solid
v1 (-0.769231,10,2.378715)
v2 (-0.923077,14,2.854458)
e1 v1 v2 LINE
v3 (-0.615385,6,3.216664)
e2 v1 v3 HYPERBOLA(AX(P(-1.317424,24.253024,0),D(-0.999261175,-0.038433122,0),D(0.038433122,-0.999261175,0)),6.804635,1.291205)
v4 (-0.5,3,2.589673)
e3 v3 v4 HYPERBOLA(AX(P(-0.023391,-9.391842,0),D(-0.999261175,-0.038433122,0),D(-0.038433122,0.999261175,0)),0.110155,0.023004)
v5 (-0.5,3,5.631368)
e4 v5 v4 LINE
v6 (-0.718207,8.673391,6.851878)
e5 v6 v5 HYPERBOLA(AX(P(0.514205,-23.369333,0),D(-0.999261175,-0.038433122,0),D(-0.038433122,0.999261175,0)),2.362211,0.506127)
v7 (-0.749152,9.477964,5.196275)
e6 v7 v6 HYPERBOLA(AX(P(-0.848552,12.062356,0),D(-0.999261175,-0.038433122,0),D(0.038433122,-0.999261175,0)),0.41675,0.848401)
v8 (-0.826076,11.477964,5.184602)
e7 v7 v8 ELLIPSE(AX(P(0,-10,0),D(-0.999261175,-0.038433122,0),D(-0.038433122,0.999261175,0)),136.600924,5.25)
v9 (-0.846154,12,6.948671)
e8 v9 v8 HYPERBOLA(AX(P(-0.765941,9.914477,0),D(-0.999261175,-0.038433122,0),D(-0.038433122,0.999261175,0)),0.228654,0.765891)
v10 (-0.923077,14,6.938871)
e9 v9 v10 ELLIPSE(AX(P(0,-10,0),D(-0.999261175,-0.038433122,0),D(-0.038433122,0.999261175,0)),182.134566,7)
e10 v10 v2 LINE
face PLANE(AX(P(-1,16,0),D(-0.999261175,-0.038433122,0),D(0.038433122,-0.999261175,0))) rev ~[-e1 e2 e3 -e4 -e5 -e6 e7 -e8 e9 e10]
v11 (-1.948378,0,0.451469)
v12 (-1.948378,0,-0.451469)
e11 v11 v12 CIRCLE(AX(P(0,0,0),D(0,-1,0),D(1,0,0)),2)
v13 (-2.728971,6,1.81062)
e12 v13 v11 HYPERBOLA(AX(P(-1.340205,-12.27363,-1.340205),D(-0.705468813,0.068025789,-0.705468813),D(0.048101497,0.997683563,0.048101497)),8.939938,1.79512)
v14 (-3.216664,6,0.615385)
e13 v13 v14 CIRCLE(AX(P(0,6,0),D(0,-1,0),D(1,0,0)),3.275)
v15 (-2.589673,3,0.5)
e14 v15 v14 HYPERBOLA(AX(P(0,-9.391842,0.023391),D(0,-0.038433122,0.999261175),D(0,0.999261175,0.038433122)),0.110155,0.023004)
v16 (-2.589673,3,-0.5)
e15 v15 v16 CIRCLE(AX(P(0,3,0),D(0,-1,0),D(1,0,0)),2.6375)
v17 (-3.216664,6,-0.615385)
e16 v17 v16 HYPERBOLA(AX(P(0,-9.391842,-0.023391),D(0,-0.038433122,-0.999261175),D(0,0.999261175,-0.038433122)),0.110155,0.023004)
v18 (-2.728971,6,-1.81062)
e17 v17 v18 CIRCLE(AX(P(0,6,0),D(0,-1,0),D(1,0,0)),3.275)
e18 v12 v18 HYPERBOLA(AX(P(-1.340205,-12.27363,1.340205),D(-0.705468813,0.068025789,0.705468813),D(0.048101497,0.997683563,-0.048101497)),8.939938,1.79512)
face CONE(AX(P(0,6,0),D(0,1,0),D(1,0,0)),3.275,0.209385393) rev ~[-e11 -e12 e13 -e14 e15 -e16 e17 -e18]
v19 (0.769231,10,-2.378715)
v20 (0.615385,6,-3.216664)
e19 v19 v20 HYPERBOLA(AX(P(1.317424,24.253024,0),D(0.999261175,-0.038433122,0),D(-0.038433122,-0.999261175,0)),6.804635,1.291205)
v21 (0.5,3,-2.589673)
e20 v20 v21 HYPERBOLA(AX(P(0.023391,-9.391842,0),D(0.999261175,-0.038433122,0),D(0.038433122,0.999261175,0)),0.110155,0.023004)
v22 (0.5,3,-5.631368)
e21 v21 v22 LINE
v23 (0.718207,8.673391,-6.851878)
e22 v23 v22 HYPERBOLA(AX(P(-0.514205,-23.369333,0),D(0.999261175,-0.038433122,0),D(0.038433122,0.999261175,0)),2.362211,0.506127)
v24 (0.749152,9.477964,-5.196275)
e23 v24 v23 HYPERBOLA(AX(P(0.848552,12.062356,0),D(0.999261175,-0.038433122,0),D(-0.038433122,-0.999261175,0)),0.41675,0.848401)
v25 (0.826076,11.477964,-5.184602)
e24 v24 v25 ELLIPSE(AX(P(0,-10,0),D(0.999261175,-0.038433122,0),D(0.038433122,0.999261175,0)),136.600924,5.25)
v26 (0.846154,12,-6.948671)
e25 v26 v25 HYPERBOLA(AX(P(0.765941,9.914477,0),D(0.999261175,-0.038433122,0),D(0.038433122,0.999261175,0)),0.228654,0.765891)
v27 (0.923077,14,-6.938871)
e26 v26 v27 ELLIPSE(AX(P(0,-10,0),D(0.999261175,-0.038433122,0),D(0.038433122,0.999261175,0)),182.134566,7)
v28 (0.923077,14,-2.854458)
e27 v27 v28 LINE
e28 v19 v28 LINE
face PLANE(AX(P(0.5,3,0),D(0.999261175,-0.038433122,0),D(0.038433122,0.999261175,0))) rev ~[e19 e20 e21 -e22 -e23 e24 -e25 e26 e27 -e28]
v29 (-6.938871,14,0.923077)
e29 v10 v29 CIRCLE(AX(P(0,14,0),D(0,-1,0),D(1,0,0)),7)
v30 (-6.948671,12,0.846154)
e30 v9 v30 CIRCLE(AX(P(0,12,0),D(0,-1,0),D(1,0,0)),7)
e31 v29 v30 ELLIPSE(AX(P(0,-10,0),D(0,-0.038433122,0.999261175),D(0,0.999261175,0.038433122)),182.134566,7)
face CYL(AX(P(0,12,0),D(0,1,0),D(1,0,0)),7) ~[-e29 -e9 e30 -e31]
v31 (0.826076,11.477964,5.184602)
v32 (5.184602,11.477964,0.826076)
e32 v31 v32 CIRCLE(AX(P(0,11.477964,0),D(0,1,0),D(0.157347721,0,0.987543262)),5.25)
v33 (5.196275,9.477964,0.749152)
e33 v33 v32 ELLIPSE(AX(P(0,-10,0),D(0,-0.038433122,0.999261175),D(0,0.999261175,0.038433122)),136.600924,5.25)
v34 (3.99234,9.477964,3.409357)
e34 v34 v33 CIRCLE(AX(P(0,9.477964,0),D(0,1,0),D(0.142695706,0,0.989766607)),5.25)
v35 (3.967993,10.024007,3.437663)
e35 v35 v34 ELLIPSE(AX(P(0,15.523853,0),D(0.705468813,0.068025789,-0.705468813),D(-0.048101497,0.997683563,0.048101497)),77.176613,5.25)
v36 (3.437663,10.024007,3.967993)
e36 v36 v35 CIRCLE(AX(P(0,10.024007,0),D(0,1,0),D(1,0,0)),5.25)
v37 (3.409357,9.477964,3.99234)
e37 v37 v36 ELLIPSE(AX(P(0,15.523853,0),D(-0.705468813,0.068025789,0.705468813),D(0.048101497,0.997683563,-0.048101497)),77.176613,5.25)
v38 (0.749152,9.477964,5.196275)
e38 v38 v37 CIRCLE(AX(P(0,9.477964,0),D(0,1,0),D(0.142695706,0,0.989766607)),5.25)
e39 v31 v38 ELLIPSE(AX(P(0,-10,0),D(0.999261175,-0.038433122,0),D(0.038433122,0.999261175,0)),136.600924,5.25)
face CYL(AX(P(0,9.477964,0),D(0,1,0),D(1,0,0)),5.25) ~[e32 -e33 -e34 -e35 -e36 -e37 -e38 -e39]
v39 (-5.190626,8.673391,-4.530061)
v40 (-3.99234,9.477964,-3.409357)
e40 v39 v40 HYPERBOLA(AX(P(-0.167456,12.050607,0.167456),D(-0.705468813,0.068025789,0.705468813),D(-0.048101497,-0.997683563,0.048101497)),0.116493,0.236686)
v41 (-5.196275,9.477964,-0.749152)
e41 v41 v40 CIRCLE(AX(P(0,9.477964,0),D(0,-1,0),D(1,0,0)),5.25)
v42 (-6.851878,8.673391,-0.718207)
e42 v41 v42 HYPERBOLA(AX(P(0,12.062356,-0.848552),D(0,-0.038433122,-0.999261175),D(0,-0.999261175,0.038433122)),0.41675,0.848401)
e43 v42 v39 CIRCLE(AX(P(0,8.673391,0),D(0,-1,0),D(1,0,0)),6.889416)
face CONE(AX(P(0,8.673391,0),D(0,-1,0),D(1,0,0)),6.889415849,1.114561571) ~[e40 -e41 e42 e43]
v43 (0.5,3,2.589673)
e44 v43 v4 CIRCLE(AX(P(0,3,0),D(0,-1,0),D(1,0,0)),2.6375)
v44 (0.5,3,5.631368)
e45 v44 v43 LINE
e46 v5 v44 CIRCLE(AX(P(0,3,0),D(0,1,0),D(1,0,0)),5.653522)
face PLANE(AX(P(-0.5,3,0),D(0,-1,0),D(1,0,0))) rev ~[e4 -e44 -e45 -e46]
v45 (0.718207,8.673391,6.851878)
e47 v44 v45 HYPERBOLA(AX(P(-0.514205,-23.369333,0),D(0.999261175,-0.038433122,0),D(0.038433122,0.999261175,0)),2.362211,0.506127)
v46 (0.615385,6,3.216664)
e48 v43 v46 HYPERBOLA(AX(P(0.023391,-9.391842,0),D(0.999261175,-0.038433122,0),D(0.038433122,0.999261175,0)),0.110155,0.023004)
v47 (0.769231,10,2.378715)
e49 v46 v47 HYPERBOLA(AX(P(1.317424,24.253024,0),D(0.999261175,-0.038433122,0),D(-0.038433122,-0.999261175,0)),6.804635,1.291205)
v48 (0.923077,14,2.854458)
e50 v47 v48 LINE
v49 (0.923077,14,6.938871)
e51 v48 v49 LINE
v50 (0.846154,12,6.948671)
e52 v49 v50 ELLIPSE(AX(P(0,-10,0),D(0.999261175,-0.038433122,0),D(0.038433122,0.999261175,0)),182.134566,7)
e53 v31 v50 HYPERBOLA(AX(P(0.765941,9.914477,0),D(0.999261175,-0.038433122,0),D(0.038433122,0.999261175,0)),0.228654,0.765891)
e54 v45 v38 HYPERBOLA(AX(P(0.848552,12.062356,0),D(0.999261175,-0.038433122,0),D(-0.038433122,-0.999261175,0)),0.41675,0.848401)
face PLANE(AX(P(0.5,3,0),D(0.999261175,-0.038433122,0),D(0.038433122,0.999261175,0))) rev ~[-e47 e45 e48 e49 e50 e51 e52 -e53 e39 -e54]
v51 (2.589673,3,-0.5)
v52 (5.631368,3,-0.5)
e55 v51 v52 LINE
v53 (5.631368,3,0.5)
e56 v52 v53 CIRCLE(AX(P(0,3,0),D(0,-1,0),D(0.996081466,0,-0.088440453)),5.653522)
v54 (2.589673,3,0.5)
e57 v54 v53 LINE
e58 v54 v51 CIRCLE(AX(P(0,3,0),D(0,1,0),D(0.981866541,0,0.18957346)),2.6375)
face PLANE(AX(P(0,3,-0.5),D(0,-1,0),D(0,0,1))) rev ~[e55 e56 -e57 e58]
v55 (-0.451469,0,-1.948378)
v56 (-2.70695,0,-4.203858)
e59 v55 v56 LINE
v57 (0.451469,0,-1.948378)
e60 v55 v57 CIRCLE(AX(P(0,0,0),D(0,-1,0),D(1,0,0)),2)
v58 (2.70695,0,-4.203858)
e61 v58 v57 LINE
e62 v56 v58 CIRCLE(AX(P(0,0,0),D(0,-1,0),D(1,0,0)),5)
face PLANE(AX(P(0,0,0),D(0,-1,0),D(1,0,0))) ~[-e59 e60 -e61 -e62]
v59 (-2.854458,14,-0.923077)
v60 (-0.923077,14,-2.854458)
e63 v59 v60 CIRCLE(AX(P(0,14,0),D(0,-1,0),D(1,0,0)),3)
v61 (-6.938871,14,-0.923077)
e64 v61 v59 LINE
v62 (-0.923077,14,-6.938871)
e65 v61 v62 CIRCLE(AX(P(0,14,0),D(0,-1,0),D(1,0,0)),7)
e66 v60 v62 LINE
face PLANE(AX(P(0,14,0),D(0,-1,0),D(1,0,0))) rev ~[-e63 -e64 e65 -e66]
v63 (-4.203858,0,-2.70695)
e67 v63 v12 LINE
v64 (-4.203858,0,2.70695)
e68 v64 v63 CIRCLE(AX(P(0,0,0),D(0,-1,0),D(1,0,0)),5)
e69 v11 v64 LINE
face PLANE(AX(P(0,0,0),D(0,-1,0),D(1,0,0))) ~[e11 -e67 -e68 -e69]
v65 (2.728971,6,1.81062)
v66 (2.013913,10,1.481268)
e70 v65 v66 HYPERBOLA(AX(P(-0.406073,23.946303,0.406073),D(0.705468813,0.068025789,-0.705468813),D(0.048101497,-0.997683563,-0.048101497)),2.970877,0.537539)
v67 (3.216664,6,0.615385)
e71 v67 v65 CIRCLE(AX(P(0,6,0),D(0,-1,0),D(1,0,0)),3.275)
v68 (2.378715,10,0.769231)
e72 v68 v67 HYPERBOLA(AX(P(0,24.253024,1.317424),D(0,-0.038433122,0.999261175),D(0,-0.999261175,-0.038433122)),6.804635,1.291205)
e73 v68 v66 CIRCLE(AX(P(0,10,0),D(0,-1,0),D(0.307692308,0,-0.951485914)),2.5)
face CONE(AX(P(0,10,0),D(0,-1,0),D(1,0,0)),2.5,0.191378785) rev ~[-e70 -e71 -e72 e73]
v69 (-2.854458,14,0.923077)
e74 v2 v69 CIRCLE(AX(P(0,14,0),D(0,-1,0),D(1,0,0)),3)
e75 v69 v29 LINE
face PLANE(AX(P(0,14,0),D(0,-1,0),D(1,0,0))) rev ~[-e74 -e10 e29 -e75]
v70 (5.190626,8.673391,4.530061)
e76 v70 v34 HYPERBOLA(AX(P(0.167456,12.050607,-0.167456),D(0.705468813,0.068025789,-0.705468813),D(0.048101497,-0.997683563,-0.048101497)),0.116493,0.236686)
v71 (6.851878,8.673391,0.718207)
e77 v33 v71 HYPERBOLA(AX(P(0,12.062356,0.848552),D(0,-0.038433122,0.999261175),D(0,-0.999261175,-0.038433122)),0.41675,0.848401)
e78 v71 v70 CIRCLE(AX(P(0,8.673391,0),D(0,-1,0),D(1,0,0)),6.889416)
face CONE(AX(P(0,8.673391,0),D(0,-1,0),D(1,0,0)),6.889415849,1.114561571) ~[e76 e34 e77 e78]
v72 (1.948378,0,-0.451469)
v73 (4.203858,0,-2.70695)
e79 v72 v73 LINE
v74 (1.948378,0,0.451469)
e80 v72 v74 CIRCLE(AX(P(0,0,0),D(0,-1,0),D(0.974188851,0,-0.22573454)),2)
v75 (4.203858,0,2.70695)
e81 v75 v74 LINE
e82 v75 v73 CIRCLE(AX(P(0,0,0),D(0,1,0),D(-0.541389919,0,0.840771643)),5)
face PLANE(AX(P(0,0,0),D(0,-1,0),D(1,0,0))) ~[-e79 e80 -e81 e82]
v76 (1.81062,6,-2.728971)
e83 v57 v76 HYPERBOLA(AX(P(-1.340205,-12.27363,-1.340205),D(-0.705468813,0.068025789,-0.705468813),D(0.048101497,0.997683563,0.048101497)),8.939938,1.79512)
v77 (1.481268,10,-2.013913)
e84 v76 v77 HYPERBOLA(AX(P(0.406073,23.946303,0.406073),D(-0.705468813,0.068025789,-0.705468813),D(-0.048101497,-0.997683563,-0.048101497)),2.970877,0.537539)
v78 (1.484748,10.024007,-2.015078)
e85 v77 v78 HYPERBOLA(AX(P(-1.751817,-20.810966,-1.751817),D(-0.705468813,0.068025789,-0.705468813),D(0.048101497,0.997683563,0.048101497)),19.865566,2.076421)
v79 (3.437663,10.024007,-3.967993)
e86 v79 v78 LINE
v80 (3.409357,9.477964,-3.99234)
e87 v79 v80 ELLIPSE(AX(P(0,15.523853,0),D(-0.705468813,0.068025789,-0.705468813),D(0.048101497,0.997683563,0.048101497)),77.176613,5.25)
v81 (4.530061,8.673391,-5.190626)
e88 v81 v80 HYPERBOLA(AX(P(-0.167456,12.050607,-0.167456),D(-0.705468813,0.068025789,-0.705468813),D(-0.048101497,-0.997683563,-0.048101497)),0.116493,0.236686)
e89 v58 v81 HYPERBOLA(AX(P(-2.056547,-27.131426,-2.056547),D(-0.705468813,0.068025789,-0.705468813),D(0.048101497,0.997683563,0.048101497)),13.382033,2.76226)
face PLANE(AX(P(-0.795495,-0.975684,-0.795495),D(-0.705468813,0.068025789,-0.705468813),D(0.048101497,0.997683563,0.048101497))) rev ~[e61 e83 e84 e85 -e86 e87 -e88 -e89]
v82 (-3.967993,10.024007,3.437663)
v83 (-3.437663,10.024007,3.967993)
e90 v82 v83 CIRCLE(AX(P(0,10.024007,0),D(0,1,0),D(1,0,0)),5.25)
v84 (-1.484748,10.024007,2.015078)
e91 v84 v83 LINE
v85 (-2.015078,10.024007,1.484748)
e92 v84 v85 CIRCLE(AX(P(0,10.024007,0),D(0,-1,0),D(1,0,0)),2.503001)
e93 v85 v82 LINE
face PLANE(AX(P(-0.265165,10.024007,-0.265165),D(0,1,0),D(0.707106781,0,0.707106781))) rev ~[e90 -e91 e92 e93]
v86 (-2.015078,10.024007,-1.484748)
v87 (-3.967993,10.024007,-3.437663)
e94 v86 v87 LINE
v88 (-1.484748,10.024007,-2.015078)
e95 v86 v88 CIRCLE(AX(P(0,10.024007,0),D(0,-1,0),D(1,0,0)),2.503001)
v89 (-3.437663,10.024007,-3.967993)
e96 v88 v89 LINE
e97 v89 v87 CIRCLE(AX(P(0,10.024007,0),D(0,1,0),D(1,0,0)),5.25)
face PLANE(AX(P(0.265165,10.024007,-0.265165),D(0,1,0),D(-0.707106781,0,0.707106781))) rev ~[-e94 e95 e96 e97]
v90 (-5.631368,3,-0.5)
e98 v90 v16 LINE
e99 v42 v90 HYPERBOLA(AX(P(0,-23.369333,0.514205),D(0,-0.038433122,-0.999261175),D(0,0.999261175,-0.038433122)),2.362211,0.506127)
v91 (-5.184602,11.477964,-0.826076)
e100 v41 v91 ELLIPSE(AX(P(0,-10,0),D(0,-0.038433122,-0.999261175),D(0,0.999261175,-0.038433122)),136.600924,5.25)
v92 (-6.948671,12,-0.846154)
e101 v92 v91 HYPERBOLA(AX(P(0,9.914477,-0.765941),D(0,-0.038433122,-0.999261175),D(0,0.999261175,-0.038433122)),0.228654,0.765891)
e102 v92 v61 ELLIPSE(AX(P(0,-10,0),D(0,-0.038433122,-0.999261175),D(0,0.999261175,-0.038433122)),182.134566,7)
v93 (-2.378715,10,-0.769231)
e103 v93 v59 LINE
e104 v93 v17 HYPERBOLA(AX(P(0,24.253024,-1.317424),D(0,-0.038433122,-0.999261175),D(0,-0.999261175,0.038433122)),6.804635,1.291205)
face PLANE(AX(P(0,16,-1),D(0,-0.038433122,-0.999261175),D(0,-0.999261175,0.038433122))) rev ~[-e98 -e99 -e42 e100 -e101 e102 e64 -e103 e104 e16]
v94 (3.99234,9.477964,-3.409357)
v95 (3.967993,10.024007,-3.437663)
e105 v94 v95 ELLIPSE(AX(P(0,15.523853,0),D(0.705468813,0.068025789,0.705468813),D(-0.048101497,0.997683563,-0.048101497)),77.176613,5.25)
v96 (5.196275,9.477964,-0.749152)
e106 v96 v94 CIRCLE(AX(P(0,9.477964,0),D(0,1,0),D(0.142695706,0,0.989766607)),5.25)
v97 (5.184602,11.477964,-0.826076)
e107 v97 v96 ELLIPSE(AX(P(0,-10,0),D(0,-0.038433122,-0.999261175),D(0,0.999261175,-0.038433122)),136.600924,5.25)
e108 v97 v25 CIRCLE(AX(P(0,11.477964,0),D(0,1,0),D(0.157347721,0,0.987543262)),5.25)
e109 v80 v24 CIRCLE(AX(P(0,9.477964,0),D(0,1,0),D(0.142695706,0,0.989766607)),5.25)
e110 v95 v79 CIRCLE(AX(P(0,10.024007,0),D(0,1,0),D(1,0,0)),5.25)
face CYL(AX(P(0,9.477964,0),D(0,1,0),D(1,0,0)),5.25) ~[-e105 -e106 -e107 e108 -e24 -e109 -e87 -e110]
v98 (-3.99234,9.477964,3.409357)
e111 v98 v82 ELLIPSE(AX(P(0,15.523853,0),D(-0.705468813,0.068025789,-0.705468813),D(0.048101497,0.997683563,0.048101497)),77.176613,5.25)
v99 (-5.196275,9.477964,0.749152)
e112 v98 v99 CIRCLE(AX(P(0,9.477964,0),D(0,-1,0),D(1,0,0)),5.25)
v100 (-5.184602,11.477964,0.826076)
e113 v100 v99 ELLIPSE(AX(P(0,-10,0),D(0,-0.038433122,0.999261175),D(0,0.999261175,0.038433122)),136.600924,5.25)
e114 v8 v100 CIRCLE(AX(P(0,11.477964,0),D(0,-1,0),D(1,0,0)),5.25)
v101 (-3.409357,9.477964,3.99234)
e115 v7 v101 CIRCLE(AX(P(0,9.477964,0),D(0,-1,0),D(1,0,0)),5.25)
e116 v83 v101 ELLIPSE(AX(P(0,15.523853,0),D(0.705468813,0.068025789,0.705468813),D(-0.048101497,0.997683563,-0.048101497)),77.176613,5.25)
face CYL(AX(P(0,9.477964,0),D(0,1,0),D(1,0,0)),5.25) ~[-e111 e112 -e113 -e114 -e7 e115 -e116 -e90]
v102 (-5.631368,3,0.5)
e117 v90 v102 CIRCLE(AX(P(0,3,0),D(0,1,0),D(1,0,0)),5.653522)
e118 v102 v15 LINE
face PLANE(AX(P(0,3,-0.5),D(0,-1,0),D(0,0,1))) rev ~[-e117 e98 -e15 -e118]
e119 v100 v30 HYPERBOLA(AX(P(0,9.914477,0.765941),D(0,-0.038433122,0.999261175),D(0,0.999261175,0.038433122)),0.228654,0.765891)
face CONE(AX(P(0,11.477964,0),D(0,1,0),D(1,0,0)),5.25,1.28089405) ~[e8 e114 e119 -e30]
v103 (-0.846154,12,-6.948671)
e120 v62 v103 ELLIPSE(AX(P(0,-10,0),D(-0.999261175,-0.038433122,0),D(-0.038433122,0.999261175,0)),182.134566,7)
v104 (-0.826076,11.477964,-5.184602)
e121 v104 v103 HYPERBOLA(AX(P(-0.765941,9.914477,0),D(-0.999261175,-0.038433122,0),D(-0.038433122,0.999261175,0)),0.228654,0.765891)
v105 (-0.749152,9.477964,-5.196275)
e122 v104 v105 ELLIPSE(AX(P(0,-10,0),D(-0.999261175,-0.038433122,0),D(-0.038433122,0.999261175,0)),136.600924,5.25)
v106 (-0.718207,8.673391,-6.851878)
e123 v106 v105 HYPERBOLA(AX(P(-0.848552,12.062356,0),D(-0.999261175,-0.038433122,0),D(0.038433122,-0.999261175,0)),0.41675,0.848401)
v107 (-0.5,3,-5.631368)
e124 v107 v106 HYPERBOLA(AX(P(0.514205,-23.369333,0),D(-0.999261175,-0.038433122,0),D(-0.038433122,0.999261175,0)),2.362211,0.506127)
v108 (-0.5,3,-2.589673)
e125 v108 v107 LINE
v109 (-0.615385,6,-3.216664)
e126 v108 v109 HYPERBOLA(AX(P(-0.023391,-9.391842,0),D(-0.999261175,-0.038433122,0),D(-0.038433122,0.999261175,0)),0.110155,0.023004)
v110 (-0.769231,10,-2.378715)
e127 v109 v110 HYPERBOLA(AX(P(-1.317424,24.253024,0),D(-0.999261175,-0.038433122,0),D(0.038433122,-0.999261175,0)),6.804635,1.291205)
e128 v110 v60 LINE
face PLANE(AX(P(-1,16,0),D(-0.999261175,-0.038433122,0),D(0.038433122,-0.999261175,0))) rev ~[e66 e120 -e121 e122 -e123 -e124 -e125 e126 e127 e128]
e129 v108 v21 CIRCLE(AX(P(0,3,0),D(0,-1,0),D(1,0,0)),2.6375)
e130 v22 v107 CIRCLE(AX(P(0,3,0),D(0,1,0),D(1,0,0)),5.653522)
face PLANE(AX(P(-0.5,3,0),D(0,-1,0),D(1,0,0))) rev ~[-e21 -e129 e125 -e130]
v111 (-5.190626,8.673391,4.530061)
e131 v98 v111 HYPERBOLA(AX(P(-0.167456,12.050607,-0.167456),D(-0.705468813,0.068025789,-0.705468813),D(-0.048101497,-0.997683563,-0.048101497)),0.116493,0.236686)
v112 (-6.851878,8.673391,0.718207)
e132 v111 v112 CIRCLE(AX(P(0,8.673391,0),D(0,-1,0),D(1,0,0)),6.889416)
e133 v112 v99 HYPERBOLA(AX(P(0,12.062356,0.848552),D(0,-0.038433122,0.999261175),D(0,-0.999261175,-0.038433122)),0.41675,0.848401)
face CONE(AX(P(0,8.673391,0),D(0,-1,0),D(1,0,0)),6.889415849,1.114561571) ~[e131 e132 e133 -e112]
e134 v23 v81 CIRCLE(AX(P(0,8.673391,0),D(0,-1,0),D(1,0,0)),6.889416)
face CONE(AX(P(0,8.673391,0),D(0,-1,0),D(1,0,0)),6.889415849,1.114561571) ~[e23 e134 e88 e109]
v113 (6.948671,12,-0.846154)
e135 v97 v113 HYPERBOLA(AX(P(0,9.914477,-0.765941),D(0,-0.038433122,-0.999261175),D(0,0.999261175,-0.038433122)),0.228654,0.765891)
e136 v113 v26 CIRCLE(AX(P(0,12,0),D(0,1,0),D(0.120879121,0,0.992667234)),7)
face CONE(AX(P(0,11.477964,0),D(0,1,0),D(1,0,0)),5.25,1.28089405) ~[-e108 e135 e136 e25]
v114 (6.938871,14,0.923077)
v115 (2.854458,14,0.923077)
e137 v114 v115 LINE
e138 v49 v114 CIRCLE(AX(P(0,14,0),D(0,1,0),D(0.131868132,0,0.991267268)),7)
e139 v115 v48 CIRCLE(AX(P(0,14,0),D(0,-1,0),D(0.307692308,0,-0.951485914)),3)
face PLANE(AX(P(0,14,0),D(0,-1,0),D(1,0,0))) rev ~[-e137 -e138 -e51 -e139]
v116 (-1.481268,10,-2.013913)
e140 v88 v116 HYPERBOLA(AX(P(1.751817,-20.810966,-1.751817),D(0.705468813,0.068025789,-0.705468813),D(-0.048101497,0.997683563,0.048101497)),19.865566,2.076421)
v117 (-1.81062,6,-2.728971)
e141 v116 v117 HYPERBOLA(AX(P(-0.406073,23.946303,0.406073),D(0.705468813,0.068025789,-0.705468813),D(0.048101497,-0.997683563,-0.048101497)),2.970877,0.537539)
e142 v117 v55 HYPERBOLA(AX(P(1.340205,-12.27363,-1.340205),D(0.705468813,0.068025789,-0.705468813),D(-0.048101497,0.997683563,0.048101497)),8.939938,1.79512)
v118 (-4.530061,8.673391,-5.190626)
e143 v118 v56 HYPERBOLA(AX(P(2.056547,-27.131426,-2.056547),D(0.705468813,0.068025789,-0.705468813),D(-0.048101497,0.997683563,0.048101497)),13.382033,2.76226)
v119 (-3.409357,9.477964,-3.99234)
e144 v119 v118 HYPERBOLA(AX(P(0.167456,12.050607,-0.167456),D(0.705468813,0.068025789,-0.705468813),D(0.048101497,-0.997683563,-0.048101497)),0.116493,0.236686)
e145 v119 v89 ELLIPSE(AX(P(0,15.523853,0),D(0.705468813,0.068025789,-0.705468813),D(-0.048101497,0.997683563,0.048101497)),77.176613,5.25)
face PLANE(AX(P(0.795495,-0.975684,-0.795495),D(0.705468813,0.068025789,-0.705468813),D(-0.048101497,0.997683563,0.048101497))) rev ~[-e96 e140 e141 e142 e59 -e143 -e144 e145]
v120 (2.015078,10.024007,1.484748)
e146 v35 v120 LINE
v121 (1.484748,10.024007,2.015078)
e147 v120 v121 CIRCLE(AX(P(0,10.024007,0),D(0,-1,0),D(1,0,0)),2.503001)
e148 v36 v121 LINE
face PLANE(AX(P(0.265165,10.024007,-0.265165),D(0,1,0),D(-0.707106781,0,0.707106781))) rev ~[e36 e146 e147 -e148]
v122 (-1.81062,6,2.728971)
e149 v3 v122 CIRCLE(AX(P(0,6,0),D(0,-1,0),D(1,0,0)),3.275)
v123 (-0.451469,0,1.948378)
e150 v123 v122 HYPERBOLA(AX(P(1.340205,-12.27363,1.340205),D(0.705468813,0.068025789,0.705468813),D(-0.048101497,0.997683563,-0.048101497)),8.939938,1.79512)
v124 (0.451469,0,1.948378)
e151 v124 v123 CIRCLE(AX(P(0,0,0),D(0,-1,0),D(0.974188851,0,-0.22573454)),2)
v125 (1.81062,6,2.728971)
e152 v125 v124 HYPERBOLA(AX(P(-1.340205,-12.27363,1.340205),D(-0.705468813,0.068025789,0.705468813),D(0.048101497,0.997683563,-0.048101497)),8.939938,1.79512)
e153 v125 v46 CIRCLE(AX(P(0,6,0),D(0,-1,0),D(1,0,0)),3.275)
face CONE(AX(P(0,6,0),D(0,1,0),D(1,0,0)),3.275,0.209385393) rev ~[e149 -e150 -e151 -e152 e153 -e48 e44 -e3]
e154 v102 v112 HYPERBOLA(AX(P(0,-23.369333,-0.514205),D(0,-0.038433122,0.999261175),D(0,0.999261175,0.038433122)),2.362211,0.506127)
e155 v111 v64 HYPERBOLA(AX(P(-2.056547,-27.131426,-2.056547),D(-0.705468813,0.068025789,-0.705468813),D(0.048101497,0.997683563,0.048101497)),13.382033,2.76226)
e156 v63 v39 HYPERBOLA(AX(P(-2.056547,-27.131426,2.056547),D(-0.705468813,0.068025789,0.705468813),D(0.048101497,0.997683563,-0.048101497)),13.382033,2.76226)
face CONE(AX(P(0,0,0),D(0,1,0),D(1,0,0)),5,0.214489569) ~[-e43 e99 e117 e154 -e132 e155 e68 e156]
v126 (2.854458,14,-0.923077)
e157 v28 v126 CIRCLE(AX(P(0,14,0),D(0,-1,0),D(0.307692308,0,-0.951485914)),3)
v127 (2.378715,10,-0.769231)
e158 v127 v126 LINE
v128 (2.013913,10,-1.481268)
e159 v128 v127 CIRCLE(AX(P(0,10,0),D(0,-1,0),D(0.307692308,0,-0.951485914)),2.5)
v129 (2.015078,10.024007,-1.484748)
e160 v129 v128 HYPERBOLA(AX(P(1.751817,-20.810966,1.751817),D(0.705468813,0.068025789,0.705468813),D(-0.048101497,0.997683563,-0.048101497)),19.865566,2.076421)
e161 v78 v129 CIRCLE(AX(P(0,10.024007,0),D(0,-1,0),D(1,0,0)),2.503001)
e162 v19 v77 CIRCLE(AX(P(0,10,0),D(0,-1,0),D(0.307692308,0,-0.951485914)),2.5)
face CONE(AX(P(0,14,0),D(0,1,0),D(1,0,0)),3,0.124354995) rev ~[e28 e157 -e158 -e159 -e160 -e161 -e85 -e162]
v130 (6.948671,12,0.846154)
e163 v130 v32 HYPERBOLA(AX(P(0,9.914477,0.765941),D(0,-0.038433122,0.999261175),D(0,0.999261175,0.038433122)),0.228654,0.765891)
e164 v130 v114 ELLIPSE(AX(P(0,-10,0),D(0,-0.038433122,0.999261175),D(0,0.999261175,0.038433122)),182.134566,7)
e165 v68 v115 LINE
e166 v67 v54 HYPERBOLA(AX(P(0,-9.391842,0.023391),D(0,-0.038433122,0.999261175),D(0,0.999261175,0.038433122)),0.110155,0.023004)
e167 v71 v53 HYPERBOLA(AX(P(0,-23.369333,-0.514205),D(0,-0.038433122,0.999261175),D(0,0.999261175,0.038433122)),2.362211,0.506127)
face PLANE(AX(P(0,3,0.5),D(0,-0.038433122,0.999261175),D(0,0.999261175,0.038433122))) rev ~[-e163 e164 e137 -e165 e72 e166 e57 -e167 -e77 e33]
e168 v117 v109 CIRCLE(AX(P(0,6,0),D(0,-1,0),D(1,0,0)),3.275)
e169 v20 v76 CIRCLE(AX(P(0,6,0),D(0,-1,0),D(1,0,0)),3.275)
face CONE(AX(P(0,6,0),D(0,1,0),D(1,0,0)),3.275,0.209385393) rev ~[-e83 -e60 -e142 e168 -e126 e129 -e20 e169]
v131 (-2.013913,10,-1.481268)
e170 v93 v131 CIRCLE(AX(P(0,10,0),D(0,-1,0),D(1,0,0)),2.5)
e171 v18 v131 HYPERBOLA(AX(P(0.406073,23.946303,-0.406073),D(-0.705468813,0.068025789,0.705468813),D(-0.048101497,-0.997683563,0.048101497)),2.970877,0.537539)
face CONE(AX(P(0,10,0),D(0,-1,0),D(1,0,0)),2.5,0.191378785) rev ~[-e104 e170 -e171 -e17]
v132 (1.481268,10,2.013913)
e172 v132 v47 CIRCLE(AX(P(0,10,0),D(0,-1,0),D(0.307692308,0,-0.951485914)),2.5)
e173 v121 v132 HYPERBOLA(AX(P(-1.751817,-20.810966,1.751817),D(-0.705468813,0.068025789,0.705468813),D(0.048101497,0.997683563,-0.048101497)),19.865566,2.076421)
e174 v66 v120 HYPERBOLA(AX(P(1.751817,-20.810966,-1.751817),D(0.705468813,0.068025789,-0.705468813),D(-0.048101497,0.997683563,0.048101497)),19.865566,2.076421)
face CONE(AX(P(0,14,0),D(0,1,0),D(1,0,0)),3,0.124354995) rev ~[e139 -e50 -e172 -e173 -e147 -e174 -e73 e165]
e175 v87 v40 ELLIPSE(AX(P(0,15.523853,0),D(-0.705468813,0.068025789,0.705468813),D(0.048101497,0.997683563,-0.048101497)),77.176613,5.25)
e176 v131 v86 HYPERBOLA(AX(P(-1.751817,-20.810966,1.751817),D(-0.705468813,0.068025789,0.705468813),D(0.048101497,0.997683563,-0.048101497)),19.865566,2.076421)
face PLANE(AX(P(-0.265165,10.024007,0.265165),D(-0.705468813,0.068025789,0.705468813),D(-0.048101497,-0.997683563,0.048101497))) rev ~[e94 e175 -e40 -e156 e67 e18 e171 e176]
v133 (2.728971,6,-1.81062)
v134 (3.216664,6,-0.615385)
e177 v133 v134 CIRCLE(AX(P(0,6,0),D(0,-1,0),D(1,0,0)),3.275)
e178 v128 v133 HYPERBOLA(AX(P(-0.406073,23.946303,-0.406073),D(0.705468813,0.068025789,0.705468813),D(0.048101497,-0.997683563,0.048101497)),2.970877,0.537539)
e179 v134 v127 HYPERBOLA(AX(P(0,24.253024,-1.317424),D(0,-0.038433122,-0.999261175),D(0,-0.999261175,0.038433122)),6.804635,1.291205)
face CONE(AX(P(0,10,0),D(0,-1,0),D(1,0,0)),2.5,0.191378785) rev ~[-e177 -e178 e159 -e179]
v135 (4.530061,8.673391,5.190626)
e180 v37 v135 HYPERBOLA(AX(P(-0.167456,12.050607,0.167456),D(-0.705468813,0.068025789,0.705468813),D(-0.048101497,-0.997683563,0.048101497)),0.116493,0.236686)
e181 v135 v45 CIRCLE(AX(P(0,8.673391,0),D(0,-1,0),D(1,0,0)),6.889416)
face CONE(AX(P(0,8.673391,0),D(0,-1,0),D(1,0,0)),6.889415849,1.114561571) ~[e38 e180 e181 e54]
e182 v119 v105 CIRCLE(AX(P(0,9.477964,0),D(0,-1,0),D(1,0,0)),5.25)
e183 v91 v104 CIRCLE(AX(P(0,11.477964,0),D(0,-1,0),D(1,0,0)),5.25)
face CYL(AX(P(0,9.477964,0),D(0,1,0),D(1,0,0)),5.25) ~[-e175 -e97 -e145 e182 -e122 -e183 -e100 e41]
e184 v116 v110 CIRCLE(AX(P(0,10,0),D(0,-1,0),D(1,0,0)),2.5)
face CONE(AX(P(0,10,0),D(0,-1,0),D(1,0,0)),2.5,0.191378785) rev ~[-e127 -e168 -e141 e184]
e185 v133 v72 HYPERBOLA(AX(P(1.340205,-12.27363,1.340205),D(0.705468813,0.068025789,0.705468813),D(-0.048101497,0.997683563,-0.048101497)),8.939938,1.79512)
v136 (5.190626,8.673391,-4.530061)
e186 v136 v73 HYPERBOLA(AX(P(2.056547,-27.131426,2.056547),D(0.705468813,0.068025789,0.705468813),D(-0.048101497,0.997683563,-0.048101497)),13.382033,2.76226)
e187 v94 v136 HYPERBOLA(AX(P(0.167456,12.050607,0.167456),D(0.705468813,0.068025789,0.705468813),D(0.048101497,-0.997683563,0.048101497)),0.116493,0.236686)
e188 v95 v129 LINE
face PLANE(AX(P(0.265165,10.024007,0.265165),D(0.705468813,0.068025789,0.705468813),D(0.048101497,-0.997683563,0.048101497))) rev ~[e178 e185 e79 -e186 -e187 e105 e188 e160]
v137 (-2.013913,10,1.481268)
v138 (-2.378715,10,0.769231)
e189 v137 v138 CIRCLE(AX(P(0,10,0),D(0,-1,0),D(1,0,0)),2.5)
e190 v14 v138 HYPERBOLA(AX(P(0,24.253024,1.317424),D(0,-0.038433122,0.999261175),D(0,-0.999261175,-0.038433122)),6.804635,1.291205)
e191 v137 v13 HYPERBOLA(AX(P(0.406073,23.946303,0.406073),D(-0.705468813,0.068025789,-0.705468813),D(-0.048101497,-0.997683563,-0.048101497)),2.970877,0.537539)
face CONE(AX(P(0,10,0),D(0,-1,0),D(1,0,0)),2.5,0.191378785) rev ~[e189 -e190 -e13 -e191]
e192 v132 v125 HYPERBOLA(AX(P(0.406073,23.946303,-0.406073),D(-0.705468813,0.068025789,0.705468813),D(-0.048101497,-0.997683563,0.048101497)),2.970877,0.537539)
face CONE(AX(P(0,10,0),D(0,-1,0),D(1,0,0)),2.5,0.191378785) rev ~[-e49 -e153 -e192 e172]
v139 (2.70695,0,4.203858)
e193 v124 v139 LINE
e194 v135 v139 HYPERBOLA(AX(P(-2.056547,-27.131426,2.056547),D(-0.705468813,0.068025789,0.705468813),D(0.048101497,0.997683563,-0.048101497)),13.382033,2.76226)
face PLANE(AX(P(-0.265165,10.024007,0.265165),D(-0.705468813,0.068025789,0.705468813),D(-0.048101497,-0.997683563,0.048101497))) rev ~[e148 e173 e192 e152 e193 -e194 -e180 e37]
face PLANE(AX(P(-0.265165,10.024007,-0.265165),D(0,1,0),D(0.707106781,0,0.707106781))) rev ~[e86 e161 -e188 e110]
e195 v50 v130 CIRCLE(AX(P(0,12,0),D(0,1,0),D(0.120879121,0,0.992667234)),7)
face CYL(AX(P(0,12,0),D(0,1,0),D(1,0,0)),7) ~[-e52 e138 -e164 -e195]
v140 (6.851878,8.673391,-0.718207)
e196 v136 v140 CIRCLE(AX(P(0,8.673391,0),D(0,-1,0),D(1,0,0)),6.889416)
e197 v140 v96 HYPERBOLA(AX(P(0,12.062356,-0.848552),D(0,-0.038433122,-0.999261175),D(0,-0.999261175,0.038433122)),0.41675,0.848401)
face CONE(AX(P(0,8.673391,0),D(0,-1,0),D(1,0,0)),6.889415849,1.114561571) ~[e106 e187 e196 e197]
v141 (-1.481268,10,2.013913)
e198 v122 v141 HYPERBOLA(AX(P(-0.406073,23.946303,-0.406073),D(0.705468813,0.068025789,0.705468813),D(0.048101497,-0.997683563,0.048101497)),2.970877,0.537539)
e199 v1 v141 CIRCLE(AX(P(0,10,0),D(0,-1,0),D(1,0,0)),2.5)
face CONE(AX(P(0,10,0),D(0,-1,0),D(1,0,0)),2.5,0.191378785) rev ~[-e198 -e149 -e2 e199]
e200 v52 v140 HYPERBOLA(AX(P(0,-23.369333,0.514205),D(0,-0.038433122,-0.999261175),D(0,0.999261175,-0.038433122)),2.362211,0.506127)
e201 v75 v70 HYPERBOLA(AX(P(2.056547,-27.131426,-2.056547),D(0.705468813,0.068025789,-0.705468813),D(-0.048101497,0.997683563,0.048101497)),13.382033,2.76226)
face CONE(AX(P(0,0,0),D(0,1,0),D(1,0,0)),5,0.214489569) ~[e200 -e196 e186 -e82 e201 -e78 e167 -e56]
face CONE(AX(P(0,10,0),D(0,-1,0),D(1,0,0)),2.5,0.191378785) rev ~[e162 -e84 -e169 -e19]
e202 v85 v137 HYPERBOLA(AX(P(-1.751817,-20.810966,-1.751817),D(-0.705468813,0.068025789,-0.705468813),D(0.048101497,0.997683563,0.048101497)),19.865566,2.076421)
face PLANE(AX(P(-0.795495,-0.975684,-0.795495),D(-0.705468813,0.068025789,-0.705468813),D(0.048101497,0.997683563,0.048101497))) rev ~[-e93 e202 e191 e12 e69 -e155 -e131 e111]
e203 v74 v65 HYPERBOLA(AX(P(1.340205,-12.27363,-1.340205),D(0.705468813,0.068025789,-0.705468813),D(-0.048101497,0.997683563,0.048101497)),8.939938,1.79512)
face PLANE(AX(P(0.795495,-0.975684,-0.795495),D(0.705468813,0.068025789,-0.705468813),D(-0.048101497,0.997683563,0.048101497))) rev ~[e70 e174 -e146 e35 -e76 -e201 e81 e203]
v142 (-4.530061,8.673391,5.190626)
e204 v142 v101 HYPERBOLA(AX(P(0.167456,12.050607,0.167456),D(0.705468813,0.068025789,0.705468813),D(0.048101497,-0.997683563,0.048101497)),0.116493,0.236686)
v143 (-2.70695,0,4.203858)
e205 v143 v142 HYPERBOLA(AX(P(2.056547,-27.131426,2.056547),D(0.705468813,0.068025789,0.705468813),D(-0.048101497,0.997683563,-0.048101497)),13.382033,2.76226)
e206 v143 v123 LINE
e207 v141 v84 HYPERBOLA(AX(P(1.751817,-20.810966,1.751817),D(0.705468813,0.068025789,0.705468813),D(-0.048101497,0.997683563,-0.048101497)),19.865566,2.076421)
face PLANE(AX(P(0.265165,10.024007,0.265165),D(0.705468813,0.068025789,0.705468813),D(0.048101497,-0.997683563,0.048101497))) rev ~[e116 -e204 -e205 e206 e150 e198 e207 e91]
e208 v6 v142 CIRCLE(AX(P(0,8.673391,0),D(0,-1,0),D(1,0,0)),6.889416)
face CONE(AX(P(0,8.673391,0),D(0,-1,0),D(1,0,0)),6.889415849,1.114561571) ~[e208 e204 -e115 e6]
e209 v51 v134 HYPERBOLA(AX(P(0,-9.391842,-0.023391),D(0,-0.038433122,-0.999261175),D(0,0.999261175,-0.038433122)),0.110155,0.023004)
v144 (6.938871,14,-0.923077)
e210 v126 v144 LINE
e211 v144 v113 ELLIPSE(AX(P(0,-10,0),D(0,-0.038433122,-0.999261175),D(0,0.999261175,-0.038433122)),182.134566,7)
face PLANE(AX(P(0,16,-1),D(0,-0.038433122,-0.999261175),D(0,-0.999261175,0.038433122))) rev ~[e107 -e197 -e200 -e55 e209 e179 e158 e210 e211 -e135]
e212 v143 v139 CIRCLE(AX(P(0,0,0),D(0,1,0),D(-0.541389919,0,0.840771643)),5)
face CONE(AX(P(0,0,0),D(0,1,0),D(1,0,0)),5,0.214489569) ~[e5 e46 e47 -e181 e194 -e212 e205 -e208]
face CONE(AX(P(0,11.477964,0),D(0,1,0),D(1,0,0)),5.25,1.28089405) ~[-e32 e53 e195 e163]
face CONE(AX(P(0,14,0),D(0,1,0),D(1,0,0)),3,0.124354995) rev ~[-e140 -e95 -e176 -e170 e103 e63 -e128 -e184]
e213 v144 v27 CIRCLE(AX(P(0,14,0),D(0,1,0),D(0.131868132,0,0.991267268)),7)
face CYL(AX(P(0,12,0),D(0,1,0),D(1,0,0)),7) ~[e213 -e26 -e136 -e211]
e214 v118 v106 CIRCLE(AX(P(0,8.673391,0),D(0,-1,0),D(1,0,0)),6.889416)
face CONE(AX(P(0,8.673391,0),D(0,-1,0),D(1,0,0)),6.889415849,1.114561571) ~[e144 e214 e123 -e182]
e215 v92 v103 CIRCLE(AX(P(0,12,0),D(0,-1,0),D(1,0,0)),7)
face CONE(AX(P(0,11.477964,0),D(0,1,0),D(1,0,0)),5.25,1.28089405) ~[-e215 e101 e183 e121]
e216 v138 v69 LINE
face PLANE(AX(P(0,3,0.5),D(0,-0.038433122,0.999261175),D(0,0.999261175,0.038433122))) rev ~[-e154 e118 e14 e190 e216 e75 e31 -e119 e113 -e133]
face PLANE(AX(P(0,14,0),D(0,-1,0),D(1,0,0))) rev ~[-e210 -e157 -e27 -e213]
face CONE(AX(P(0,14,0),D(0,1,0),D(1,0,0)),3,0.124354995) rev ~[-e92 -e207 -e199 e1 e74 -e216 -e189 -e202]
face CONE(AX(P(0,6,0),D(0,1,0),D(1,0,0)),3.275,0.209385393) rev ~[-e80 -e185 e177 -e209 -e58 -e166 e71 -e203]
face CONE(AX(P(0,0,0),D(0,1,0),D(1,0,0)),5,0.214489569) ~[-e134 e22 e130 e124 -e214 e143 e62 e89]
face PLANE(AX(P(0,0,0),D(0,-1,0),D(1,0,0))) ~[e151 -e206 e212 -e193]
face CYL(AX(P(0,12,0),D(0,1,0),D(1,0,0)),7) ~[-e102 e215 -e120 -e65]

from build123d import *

# Parameters (mm, degrees)
F3_DEPTH = 12.7
F4_COUNT = 2
F4_ANGLE = 90
F8_DEPTH = 12.7
F9_COUNT = 2
F9_ANGLE = 90


with BuildPart() as f1:
    # F0 (on Top) → F1 (revolve)
    with BuildSketch(Plane.XY):
        Polygon((7, 14), (3, 14), (2.5, 10), (3.275, 6), (2, 0), (5, 0), (6.889415849, 8.6733910541), (5.25, 9.4779638621), (5.25, 11.4779638621), (7, 12), align=None)
    revolve(axis=Axis((0, 3.7037534639, 0), (0, -1, 0)))


with BuildPart() as f3:
    # F2 (on Top) → F3 (new body, symmetric)
    with BuildSketch(Plane.XY):
        Polygon((0, 3), (0.5, 3), (1, 16), (0, 16), (-1, 16), (-0.5, 3), align=None)
    extrude(amount=F3_DEPTH, both=True)


with BuildPart() as f4_1:
    # F4: instance of F3
    add(f3.part.rotate(Axis((0, 3.7037534639, 0), (0, -1, 0)), 1 * F4_ANGLE / (F4_COUNT - 1)))


with BuildPart() as f1_1:
    add(f1.part)

    # F5: cut F3, F4_1
    add(f3.part, mode=Mode.SUBTRACT)
    add(f4_1.part, mode=Mode.SUBTRACT)


with BuildPart() as f8:
    # F7 (on line) → F8 (new body, symmetric)
    with BuildSketch(Plane(origin=(0, 0, 0), x_dir=(0.7071067812, 0, 0.7071067812), z_dir=(0.7071067812, 0, -0.7071067812))):
        Polygon((0.375, -10.0240074396), (1.125, 0.9756837906), (-1.125, 0.9756837906), (-0.375, -10.0240074396), align=None)
    extrude(amount=F8_DEPTH, both=True)


with BuildPart() as f9_1:
    # F9: instance of F8
    add(f8.part.rotate(Axis((0, 3.7037534639, 0), (0, -1, 0)), 1 * F9_ANGLE / (F9_COUNT - 1)))


with BuildPart() as f1_2:
    add(f1_1.part)

    # F10: cut F8, F9_1
    add(f8.part, mode=Mode.SUBTRACT)
    add(f9_1.part, mode=Mode.SUBTRACT)


solid = f1_2.part
